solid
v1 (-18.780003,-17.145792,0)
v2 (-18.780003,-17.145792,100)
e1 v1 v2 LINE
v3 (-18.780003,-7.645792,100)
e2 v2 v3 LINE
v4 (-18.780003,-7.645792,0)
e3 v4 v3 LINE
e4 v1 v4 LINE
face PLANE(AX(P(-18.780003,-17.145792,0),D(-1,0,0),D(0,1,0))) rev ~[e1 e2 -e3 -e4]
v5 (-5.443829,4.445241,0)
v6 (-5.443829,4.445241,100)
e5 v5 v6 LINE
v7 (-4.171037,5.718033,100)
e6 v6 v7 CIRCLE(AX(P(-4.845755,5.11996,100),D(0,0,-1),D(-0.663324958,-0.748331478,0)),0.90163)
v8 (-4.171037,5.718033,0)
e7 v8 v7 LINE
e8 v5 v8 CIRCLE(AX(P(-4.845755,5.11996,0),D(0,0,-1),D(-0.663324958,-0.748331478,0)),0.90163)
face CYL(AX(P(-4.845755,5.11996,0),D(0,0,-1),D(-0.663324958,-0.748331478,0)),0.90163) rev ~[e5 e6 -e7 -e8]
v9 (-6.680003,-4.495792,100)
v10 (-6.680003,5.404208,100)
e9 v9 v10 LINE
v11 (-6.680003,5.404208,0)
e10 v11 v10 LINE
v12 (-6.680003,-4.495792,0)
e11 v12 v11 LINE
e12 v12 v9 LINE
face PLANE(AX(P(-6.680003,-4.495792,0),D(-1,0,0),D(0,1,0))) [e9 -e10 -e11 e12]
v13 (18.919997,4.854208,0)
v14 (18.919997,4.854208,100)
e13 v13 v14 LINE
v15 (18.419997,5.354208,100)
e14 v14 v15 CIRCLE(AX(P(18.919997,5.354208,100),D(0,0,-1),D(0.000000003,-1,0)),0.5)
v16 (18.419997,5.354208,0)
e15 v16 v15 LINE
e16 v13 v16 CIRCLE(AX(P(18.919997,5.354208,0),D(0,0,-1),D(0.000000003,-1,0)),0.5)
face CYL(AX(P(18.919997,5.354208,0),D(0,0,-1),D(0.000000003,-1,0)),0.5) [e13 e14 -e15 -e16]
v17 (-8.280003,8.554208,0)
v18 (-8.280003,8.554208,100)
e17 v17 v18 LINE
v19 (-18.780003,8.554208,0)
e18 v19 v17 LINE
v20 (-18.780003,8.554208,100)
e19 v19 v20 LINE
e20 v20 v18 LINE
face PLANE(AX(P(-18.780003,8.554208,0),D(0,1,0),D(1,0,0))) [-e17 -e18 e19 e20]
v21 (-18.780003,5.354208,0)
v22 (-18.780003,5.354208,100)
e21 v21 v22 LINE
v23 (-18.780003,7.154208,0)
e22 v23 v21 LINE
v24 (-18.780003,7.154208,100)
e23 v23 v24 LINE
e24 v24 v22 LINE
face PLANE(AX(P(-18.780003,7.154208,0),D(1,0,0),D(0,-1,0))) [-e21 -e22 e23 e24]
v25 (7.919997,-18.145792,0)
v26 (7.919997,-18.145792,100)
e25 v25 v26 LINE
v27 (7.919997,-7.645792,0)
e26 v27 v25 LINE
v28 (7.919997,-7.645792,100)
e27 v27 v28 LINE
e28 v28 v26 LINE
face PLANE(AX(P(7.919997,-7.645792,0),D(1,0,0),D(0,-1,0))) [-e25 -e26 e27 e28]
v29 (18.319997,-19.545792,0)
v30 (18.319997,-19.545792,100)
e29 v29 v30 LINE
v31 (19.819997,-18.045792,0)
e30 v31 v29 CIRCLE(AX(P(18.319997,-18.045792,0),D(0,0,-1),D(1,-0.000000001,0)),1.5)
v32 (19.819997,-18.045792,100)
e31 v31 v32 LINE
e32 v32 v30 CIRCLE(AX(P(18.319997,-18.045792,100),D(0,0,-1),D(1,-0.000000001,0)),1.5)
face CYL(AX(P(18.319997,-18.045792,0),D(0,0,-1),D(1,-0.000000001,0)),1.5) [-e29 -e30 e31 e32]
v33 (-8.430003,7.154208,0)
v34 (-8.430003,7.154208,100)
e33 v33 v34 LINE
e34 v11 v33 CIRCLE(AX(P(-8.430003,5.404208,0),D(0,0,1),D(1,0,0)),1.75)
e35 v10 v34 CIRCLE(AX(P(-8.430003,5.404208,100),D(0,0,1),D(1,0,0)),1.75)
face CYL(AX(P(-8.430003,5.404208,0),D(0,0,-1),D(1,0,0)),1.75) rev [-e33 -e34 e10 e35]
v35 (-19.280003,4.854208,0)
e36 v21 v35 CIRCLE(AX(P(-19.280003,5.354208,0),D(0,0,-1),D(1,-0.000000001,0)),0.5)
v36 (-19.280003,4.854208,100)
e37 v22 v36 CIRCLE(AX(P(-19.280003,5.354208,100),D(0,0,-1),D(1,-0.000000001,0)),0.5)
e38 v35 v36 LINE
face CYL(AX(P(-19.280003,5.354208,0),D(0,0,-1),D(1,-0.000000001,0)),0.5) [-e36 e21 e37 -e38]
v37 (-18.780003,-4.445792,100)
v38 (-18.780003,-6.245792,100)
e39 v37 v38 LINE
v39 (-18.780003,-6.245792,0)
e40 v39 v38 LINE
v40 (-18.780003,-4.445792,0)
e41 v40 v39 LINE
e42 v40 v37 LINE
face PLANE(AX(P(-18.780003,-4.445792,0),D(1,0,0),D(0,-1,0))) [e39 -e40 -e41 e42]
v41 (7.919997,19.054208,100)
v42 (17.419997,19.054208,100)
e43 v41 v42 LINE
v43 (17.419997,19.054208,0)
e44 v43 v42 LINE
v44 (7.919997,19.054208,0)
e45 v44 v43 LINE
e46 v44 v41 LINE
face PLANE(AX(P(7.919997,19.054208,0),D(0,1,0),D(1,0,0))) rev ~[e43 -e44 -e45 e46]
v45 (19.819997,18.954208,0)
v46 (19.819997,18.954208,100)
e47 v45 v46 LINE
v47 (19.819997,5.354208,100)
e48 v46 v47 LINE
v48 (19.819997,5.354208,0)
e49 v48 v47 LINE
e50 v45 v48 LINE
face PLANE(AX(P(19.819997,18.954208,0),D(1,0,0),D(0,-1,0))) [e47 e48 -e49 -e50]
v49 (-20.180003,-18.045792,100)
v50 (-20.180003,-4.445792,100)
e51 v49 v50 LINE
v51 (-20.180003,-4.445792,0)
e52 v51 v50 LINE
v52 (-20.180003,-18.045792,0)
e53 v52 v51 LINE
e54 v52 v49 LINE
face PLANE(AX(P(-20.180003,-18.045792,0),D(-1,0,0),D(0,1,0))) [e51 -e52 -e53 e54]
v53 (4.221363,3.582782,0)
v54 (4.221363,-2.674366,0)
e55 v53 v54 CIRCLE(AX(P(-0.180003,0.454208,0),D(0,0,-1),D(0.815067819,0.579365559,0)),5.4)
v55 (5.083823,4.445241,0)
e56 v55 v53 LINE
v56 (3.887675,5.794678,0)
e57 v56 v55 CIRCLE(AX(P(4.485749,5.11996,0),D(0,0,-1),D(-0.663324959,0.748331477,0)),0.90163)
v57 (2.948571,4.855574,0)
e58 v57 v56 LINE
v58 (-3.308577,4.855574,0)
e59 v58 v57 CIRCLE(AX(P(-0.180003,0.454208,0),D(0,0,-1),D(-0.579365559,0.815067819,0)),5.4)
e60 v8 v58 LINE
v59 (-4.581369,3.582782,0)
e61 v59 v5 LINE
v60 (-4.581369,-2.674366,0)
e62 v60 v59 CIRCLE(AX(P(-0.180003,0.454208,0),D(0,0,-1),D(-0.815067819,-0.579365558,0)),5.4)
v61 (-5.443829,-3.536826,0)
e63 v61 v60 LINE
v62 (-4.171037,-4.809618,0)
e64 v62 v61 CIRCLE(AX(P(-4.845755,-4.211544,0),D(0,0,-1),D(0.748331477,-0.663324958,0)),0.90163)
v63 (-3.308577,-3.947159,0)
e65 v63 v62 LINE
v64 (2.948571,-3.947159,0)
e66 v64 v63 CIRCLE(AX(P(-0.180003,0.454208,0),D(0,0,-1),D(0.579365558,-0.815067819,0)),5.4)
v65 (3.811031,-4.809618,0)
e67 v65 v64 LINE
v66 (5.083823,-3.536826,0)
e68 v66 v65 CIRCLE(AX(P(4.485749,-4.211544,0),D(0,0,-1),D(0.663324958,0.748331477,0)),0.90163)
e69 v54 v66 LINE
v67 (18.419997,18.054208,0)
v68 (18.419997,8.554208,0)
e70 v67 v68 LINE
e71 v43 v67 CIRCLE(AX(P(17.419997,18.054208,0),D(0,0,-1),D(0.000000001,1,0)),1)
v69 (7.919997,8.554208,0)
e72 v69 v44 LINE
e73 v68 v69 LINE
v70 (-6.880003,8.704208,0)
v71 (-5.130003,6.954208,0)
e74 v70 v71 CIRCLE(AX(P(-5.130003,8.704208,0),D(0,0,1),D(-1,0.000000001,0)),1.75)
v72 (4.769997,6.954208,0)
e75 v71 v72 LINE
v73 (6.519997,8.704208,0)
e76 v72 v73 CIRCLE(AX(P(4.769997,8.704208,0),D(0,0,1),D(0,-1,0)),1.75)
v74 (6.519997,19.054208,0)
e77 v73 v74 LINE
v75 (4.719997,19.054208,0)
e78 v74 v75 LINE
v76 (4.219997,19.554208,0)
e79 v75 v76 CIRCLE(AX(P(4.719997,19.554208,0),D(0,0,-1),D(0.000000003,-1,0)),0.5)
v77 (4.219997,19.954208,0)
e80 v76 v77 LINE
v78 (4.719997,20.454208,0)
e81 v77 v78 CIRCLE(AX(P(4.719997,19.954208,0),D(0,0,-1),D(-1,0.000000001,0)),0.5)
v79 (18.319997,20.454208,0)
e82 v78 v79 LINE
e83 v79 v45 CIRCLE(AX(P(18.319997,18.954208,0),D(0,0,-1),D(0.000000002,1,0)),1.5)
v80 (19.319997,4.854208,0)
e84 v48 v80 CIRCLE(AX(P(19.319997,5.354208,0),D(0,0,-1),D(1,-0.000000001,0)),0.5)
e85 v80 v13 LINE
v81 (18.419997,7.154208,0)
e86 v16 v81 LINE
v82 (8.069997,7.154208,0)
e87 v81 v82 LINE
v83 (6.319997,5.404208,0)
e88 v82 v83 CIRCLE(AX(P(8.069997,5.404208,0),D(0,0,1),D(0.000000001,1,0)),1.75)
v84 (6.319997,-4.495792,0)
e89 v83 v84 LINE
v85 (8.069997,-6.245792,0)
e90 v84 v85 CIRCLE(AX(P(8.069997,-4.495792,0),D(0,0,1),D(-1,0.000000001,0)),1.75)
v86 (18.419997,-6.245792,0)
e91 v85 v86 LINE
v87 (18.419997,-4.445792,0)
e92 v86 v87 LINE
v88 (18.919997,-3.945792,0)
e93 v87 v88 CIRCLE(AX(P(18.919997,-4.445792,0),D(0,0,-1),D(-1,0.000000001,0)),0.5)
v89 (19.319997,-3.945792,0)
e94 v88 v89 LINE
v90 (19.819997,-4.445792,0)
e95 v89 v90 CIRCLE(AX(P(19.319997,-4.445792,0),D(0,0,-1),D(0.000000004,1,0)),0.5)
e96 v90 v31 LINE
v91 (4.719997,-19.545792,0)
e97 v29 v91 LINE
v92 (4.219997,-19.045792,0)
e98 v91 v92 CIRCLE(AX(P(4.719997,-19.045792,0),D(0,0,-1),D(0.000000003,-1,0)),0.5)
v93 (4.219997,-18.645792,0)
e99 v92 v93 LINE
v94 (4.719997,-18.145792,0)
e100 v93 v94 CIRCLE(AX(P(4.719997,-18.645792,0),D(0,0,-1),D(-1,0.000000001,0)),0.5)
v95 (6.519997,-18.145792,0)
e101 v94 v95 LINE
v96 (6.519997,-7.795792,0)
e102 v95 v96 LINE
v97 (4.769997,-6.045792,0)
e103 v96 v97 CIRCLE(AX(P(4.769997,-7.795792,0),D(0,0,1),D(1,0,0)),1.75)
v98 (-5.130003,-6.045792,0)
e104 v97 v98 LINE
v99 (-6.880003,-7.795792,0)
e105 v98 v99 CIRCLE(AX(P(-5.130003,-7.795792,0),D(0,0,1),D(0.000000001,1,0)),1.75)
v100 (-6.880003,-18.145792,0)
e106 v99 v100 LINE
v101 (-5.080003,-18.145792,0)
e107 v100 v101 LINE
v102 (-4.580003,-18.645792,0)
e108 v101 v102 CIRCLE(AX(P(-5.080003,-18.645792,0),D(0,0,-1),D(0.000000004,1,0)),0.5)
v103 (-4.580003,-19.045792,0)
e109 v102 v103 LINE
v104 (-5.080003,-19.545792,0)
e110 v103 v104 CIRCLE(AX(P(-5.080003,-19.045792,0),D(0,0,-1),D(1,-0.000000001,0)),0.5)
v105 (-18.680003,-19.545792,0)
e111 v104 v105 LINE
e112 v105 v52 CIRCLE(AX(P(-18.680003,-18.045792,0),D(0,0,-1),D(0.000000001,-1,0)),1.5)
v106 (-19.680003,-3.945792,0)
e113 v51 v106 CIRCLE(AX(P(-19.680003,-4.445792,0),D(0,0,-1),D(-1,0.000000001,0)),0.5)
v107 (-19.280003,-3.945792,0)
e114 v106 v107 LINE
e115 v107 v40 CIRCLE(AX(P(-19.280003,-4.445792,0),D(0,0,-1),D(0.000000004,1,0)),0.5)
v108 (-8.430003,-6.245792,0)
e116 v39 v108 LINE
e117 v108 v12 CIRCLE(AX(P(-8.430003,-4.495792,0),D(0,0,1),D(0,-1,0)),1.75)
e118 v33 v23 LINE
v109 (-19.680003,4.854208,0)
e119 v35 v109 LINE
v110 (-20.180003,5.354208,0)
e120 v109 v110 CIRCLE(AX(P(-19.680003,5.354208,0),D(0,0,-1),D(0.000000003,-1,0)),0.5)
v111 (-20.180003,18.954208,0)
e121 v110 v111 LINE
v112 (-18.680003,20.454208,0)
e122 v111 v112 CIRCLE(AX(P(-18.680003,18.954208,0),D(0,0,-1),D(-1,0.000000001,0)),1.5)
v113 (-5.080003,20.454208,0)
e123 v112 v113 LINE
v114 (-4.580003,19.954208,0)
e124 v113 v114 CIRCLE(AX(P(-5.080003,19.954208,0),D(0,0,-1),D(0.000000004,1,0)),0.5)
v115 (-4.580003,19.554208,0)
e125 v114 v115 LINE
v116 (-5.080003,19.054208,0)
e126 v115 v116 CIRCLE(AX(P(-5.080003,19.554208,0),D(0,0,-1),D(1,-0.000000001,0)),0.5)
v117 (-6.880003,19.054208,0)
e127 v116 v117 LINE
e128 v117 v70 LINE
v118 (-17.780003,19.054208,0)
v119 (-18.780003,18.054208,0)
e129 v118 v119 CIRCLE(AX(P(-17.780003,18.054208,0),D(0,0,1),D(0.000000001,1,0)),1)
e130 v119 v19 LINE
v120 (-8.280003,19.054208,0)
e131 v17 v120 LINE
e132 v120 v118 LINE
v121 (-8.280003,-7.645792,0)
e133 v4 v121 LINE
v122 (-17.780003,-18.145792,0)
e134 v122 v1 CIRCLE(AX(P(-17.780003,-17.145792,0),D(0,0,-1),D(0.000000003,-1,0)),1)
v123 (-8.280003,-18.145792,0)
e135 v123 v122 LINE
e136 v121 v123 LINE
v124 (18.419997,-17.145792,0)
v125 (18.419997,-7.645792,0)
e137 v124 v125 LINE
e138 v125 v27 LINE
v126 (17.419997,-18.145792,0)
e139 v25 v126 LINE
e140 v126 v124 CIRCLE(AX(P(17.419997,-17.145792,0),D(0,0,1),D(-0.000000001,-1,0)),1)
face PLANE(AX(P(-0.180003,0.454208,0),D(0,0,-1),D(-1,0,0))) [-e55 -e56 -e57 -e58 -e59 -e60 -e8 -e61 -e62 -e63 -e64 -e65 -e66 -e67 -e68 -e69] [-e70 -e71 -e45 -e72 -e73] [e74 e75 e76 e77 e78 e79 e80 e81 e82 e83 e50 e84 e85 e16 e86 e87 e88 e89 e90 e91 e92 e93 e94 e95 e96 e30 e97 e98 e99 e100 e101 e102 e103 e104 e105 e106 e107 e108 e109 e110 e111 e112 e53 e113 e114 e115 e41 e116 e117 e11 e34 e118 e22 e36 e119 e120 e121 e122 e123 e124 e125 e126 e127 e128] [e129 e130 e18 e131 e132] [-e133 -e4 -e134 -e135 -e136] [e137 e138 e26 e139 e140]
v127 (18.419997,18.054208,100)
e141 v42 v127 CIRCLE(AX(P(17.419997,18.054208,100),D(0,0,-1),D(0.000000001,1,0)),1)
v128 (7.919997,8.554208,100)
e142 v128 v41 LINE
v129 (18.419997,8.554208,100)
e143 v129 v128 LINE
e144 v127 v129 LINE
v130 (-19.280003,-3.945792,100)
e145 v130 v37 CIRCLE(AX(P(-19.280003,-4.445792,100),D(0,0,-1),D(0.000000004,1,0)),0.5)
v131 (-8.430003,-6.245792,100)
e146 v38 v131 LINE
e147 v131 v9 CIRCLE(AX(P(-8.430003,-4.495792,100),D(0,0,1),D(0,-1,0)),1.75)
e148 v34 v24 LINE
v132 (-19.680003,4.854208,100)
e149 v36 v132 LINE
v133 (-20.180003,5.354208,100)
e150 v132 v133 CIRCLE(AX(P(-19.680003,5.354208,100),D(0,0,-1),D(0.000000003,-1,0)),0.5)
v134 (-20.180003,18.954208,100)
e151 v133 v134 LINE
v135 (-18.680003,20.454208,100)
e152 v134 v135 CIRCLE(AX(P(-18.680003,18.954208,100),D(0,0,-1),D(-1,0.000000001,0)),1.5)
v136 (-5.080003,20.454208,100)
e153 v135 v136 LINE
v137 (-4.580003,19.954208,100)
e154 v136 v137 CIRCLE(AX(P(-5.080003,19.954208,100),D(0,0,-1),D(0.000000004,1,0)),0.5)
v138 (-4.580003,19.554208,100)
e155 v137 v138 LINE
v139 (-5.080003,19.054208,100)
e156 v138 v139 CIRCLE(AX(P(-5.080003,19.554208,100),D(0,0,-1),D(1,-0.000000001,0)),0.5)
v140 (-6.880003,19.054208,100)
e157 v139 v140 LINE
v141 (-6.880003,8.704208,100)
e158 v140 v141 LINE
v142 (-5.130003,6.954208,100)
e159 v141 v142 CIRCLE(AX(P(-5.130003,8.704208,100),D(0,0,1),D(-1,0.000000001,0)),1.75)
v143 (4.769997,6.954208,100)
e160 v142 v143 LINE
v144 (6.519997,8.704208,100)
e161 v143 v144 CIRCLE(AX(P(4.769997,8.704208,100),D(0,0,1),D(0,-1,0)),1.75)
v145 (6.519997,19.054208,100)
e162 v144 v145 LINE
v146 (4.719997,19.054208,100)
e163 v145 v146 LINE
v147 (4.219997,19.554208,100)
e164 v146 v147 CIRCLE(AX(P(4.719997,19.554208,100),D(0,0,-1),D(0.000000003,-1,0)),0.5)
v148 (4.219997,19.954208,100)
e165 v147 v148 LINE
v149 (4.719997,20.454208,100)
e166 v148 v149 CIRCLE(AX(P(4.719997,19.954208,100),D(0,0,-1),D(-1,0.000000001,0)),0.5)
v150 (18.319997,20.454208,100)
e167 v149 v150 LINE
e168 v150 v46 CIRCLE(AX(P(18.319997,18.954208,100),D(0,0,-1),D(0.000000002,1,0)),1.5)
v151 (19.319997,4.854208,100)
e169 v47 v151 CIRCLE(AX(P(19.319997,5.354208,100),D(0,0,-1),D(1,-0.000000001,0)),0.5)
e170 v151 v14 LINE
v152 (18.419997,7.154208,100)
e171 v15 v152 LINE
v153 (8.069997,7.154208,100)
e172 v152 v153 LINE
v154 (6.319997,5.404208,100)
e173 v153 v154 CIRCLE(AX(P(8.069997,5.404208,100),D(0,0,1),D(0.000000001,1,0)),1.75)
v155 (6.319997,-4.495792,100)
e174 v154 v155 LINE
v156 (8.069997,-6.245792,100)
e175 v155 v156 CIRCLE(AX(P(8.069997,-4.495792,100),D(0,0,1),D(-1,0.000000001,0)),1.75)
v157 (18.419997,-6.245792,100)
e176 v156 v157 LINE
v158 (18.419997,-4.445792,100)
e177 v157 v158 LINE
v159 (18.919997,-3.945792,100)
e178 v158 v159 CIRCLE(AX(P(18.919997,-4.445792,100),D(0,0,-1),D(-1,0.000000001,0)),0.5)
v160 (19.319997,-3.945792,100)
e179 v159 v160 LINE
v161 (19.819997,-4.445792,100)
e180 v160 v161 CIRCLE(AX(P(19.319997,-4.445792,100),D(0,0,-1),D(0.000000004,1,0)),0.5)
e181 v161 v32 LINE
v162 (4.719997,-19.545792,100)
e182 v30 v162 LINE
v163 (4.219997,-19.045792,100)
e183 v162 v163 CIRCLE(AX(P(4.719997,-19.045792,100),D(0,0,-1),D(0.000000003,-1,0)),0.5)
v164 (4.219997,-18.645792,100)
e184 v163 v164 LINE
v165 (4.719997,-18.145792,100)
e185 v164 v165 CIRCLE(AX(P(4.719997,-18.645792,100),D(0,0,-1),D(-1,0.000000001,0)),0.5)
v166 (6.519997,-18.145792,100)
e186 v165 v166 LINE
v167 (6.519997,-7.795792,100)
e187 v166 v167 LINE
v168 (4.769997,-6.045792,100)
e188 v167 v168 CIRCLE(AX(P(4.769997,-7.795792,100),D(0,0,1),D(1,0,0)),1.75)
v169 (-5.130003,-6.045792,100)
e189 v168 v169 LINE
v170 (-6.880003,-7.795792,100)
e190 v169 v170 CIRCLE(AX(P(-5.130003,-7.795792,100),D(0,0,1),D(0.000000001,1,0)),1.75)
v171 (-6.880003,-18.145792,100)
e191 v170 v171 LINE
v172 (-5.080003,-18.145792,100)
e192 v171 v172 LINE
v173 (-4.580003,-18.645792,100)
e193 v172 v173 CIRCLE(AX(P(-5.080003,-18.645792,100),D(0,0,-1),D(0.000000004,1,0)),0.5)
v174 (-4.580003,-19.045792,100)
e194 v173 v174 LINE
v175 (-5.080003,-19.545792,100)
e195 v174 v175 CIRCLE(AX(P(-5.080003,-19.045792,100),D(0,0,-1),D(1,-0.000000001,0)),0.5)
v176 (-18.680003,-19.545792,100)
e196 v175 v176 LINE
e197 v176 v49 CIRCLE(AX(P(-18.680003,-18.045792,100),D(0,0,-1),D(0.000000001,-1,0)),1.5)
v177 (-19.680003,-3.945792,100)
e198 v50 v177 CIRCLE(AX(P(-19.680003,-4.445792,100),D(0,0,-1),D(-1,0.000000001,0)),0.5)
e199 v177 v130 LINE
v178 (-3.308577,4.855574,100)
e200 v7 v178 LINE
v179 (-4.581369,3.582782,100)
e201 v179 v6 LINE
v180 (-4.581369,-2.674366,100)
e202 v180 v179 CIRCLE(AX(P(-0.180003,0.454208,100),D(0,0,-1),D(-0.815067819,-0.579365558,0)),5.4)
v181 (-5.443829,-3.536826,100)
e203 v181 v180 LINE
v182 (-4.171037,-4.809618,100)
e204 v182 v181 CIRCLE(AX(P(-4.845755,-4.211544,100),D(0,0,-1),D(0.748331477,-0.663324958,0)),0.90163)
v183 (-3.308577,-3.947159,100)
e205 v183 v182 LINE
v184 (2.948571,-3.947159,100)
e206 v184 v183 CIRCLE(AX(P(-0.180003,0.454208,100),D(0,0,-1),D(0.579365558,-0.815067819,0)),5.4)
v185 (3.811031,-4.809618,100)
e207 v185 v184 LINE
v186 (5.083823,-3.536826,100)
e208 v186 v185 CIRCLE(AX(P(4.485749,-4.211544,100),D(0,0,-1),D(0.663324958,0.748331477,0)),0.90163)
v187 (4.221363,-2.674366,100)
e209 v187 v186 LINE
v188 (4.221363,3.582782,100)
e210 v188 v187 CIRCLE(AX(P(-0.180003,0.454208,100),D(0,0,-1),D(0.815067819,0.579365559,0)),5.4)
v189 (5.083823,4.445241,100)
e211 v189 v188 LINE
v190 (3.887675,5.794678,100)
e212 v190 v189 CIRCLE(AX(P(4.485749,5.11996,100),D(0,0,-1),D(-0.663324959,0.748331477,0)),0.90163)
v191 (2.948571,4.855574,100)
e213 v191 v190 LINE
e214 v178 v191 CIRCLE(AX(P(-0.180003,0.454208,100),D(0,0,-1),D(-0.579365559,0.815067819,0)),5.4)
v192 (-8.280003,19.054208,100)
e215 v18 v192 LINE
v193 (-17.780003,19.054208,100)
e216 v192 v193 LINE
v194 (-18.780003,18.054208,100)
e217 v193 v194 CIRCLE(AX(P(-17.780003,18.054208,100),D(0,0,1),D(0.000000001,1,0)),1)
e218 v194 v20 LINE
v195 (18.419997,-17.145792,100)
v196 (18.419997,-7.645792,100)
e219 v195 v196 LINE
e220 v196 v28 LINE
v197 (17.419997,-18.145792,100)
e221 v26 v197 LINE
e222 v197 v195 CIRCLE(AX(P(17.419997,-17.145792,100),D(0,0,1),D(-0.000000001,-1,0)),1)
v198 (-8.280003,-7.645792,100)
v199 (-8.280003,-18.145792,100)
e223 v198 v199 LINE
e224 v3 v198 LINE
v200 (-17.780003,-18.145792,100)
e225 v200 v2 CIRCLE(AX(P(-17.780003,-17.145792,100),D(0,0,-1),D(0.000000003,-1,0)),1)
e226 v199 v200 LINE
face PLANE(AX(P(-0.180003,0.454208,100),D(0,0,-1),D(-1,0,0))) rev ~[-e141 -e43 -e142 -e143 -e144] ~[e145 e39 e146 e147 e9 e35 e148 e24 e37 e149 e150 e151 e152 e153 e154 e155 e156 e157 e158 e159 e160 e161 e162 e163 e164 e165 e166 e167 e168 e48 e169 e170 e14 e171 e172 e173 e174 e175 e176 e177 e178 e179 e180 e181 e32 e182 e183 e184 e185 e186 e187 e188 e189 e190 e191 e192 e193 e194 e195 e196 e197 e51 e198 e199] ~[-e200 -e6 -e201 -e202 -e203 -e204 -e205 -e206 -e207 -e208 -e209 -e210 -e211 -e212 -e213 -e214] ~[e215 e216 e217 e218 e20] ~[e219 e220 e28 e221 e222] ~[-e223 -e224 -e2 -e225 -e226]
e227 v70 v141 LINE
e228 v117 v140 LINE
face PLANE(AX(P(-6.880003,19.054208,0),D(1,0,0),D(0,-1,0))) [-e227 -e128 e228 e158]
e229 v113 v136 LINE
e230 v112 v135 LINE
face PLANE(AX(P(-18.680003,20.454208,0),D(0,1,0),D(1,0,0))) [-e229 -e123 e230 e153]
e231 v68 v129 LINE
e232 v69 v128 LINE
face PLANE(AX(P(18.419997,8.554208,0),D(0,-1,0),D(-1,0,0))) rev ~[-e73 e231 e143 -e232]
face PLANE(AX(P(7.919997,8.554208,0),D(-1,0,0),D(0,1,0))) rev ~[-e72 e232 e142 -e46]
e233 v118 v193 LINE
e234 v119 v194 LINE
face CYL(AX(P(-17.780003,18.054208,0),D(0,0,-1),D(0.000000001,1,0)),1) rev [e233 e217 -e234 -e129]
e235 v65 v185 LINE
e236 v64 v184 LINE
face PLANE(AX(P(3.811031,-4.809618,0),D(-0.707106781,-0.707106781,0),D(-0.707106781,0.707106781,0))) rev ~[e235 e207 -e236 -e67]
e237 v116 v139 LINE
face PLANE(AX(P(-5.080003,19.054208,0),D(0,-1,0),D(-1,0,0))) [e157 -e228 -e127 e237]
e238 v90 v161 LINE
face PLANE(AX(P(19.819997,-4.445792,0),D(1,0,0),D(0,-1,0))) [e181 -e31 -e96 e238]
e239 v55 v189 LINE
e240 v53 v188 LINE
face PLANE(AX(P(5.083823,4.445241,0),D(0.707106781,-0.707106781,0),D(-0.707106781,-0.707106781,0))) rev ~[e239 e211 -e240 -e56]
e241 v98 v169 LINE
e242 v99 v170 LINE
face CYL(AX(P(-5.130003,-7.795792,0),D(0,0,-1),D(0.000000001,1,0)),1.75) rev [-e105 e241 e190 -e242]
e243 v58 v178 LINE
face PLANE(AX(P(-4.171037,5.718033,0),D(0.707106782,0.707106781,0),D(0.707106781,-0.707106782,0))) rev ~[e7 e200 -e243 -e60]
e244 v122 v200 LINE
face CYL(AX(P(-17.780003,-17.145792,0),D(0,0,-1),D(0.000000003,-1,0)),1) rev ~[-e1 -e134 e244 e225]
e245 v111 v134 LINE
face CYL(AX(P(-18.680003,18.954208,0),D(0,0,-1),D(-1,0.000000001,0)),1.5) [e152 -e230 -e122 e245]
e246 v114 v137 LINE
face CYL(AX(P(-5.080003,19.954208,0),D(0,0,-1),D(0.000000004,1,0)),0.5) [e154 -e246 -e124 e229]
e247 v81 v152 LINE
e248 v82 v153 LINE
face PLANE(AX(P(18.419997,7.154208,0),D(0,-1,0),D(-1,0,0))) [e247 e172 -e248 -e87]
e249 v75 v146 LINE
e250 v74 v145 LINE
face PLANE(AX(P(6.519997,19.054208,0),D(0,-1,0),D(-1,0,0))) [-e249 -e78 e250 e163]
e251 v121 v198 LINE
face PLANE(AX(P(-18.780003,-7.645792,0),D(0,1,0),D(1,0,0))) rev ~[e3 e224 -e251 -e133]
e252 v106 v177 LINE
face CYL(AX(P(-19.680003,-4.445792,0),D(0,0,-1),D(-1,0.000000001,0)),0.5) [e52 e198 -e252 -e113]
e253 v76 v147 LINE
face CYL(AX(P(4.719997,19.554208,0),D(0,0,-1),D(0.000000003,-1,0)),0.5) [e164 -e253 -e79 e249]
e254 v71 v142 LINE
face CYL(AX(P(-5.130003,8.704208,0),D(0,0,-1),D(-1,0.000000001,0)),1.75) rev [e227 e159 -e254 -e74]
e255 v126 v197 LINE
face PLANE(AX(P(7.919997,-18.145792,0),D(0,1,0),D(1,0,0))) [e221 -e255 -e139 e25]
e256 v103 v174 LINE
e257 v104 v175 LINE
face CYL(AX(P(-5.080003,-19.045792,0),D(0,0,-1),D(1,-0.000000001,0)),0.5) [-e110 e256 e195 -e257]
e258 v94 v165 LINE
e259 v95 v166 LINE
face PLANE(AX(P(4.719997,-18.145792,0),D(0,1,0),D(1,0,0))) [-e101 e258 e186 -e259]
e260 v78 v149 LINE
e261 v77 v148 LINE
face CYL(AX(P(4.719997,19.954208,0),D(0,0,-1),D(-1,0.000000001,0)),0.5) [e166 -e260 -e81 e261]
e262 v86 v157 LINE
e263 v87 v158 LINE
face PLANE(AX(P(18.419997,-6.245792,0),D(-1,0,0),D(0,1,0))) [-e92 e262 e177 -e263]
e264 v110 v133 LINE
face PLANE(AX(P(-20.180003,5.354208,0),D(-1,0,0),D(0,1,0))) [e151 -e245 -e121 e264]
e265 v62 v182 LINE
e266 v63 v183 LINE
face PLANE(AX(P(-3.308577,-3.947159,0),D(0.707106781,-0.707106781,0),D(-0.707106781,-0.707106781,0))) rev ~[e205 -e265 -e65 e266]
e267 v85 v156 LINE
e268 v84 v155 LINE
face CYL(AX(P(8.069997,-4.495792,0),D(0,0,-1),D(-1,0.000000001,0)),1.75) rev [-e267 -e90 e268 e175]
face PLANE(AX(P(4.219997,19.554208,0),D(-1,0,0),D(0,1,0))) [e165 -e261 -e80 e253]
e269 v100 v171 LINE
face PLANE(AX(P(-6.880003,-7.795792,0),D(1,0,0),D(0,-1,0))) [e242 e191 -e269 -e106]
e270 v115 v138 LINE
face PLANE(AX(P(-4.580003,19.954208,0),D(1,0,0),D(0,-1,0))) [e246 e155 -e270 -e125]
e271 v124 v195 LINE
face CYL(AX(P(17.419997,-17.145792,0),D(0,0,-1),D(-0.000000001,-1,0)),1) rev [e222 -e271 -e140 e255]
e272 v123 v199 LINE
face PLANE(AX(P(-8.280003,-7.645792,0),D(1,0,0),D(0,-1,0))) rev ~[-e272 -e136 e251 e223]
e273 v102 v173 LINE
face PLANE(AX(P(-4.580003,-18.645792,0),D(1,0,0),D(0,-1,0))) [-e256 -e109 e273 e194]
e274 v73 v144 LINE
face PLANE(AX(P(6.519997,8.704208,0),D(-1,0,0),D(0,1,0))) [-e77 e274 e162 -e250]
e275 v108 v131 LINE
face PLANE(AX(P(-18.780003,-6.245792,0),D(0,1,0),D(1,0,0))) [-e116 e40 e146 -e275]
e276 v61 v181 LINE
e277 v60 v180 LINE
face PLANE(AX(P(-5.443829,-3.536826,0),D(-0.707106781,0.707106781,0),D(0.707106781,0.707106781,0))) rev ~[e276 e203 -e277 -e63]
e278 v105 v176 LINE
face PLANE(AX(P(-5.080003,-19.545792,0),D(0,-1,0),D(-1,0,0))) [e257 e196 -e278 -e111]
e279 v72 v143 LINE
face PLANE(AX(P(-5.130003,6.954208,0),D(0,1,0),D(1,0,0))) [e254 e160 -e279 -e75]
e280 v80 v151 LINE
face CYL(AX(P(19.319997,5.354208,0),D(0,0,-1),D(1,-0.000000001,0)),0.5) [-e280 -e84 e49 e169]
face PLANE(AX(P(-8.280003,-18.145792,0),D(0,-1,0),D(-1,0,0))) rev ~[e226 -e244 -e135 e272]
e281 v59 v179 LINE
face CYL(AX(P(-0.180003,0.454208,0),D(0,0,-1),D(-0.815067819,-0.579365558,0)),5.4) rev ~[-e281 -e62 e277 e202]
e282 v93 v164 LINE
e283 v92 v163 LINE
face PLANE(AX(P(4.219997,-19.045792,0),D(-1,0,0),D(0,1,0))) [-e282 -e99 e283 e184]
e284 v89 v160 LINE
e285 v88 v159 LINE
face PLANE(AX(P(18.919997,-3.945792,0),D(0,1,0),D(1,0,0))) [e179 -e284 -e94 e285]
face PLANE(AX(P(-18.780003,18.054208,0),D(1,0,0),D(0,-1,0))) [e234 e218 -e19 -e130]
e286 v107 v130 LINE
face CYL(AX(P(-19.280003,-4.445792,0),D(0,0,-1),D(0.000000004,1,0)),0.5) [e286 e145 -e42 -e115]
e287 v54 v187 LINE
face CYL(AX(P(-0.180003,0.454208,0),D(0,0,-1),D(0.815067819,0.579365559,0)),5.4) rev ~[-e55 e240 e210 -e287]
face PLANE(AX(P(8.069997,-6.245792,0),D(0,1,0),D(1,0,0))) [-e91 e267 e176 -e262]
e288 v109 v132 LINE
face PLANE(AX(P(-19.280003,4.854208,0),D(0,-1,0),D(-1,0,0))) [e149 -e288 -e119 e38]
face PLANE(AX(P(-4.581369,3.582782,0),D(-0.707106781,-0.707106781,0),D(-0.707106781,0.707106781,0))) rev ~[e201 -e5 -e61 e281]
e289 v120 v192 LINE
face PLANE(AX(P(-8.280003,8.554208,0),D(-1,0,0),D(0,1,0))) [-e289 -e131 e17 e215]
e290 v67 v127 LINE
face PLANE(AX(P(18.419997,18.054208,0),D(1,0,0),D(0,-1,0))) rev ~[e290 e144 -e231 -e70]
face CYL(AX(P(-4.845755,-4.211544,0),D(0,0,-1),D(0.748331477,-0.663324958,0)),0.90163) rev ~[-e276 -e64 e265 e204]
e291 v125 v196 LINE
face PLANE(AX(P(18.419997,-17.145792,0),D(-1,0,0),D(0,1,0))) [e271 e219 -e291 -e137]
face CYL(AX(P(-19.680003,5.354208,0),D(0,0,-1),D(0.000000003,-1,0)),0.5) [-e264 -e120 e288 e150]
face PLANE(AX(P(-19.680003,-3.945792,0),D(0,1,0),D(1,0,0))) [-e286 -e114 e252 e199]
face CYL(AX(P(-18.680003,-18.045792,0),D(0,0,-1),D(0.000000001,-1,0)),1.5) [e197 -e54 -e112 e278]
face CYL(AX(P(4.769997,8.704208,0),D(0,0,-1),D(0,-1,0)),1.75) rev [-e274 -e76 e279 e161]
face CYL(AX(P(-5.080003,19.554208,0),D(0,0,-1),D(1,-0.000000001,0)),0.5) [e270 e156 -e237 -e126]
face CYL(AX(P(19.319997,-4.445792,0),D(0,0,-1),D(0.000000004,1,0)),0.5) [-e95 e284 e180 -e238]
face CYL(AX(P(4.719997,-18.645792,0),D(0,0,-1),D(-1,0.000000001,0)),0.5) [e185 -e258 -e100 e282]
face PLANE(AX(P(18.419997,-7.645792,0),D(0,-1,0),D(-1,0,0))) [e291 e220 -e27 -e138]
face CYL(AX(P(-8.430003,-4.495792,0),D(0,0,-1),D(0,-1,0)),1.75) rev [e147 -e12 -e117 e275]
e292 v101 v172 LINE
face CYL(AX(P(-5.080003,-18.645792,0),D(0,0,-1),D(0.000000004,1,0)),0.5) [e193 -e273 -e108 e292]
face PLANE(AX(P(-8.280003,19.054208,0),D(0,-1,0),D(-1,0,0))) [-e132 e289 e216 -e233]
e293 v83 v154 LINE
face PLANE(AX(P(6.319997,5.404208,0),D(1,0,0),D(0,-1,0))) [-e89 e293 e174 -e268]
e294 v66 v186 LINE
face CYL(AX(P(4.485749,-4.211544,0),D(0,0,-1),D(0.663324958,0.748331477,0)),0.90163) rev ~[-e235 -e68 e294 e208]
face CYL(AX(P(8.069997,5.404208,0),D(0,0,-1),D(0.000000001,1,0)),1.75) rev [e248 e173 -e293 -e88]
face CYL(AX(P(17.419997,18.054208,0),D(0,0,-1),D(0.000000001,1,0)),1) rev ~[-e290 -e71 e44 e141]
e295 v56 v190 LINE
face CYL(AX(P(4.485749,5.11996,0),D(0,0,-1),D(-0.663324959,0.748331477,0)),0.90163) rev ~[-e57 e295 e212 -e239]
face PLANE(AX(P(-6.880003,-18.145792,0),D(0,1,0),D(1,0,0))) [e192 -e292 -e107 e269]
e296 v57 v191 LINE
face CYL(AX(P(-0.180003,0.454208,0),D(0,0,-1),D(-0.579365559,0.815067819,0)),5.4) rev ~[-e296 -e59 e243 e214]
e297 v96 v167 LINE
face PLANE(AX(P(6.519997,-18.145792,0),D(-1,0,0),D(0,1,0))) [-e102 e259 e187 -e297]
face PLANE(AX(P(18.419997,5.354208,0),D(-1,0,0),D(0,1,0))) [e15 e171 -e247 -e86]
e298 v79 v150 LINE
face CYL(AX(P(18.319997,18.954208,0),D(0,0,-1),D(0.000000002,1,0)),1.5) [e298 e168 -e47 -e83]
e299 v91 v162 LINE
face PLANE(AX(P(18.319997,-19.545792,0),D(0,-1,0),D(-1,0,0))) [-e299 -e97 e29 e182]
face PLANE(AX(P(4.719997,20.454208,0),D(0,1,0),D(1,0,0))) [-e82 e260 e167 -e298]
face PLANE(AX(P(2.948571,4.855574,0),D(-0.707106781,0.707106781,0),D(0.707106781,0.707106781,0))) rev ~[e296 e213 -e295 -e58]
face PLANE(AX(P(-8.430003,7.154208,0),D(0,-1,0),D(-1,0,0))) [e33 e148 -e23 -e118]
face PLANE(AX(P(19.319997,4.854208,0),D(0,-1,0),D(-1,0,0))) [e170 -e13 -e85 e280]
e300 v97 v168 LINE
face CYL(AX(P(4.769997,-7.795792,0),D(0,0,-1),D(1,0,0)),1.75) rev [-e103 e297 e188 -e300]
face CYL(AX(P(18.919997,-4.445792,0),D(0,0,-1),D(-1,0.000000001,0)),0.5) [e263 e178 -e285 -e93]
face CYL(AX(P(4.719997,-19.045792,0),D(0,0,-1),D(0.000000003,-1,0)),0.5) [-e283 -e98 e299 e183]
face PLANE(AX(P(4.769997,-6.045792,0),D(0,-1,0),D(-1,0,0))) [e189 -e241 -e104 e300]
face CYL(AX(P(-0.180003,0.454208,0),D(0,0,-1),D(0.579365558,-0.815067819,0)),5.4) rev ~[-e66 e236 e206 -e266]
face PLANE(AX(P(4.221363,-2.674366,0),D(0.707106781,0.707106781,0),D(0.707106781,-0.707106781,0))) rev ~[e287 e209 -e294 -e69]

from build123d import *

# Parameters (mm, degrees)
EXTRUDE_1_DEPTH = 100


with BuildPart() as part:
    # 草图1 → 凸台-拉伸1 (new body)
    with BuildSketch(Plane.XY):
        with BuildLine():
            Line((-18.780003001, 7.154207574), (-18.780003001, 5.354207574))
            ThreePointArc((-18.780003001, 5.354207574), (-18.926449611, 5.000654183), (-19.280003001, 4.854207574))
            Line((-19.280003001, 4.854207574), (-19.680003001, 4.854207574))
            ThreePointArc((-19.680003001, 4.854207574), (-20.033556392, 5.000654183), (-20.180003001, 5.354207574))
            Line((-20.180003001, 5.354207574), (-20.180003001, 18.954207574))
            ThreePointArc((-20.180003001, 18.954207574), (-19.740663173, 20.014867745), (-18.680003001, 20.454207574))
            Line((-18.680003001, 20.454207574), (-5.080003001, 20.454207574))
            ThreePointArc((-5.080003001, 20.454207574), (-4.726449611, 20.307760964), (-4.580003001, 19.954207574))
            Line((-4.580003001, 19.954207574), (-4.580003001, 19.554207574))
            ThreePointArc((-4.580003001, 19.554207574), (-4.726449611, 19.200654183), (-5.080003001, 19.054207574))
            Line((-5.080003001, 19.054207574), (-6.880003001, 19.054207574))
            Line((-6.880003001, 19.054207574), (-6.880003001, 8.704207574))
            ThreePointArc((-6.880003001, 8.704207574), (-6.367439869, 7.466770707), (-5.130003001, 6.954207574))
            Line((-5.130003001, 6.954207574), (4.769996999, 6.954207574))
            ThreePointArc((4.769996999, 6.954207574), (6.007433866, 7.466770707), (6.519996999, 8.704207574))
            Line((6.519996999, 8.704207574), (6.519996999, 19.054207574))
            Line((6.519996999, 19.054207574), (4.719996999, 19.054207574))
            ThreePointArc((4.719996999, 19.054207574), (4.366443608, 19.200654183), (4.219996999, 19.554207574))
            Line((4.219996999, 19.554207574), (4.219996999, 19.954207574))
            ThreePointArc((4.219996999, 19.954207574), (4.366443608, 20.307760964), (4.719996999, 20.454207574))
            Line((4.719996999, 20.454207574), (18.319996999, 20.454207574))
            ThreePointArc((18.319996999, 20.454207574), (19.38065717, 20.014867745), (19.819996999, 18.954207574))
            Line((19.819996999, 18.954207574), (19.819996999, 5.354207574))
            ThreePointArc((19.819996999, 5.354207574), (19.673550389, 5.000654183), (19.319996999, 4.854207574))
            Line((19.319996999, 4.854207574), (18.919996999, 4.854207574))
            ThreePointArc((18.919996999, 4.854207574), (18.566443608, 5.000654183), (18.419996999, 5.354207574))
            Line((18.419996999, 5.354207574), (18.419996999, 7.154207574))
            Line((18.419996999, 7.154207574), (8.069996999, 7.154207574))
            ThreePointArc((8.069996999, 7.154207574), (6.832560131, 6.641644441), (6.319996999, 5.404207574))
            Line((6.319996999, 5.404207574), (6.319996999, -4.495792426))
            ThreePointArc((6.319996999, -4.495792426), (6.832560131, -5.733229293), (8.069996999, -6.245792426))
            Line((8.069996999, -6.245792426), (18.419996999, -6.245792426))
            Line((18.419996999, -6.245792426), (18.419996999, -4.445792426))
            ThreePointArc((18.419996999, -4.445792426), (18.566443608, -4.092239036), (18.919996999, -3.945792426))
            Line((18.919996999, -3.945792426), (19.319996999, -3.945792426))
            ThreePointArc((19.319996999, -3.945792426), (19.673550389, -4.092239036), (19.819996999, -4.445792426))
            Line((19.819996999, -4.445792426), (19.819996999, -18.045792426))
            ThreePointArc((19.819996999, -18.045792426), (19.38065717, -19.106452598), (18.319996999, -19.545792426))
            Line((18.319996999, -19.545792426), (4.719996999, -19.545792426))
            ThreePointArc((4.719996999, -19.545792426), (4.366443608, -19.399345817), (4.219996999, -19.045792426))
            Line((4.219996999, -19.045792426), (4.219996999, -18.645792426))
            ThreePointArc((4.219996999, -18.645792426), (4.366443608, -18.292239036), (4.719996999, -18.145792426))
            Line((4.719996999, -18.145792426), (6.519996999, -18.145792426))
            Line((6.519996999, -18.145792426), (6.519996999, -7.795792426))
            ThreePointArc((6.519996999, -7.795792426), (6.007433866, -6.558355559), (4.769996999, -6.045792426))
            Line((4.769996999, -6.045792426), (-5.130003001, -6.045792426))
            ThreePointArc((-5.130003001, -6.045792426), (-6.367439869, -6.558355559), (-6.880003001, -7.795792426))
            Line((-6.880003001, -7.795792426), (-6.880003001, -18.145792426))
            Line((-6.880003001, -18.145792426), (-5.080003001, -18.145792426))
            ThreePointArc((-5.080003001, -18.145792426), (-4.726449611, -18.292239036), (-4.580003001, -18.645792426))
            Line((-4.580003001, -18.645792426), (-4.580003001, -19.045792426))
            ThreePointArc((-4.580003001, -19.045792426), (-4.726449611, -19.399345817), (-5.080003001, -19.545792426))
            Line((-5.080003001, -19.545792426), (-18.680003001, -19.545792426))
            ThreePointArc((-18.680003001, -19.545792426), (-19.740663173, -19.106452598), (-20.180003001, -18.045792426))
            Line((-20.180003001, -18.045792426), (-20.180003001, -4.445792426))
            ThreePointArc((-20.180003001, -4.445792426), (-20.033556392, -4.092239036), (-19.680003001, -3.945792426))
            Line((-19.680003001, -3.945792426), (-19.280003001, -3.945792426))
            ThreePointArc((-19.280003001, -3.945792426), (-18.926449611, -4.092239036), (-18.780003001, -4.445792426))
            Line((-18.780003001, -4.445792426), (-18.780003001, -6.245792426))
            Line((-18.780003001, -6.245792426), (-8.430003001, -6.245792426))
            ThreePointArc((-8.430003001, -6.245792426), (-7.192566134, -5.733229293), (-6.680003001, -4.495792426))
            Line((-6.680003001, -4.495792426), (-6.680003001, 5.404207574))
            ThreePointArc((-6.680003001, 5.404207574), (-7.192566134, 6.641644441), (-8.430003001, 7.154207574))
            Line((-8.430003001, 7.154207574), (-18.780003001, 7.154207574))
        make_face()
        with BuildLine():
            Line((-8.280003001, 19.054207574), (-17.780003001, 19.054207574))
            ThreePointArc((-17.780003001, 19.054207574), (-18.487109783, 18.761314355), (-18.780003001, 18.054207574))
            Line((-18.780003001, 18.054207574), (-18.780003001, 8.554207574))
            Line((-18.780003001, 8.554207574), (-8.280003001, 8.554207574))
            Line((-8.280003001, 8.554207574), (-8.280003001, 19.054207574))
        make_face(mode=Mode.SUBTRACT)
        with BuildLine():
            Line((-4.581369224, 3.58278159), (-5.443828842, 4.445241208))
            ThreePointArc((-5.443828842, 4.445241208), (-5.48330386, 5.757508433), (-4.171036636, 5.718033415))
            Line((-4.171036636, 5.718033415), (-3.308577018, 4.855573796))
            ThreePointArc((-3.308577018, 4.855573796), (-0.180003001, 5.854207574), (2.948571015, 4.855573796))
            Line((2.948571015, 4.855573796), (3.887675086, 5.794677867))
            ThreePointArc((3.887675086, 5.794677867), (5.160467292, 5.718033415), (5.083822839, 4.445241208))
            Line((5.083822839, 4.445241208), (4.221363221, 3.58278159))
            ThreePointArc((4.221363221, 3.58278159), (5.219996999, 0.454207574), (4.221363221, -2.674366443))
            Line((4.221363221, -2.674366443), (5.083822839, -3.536826061))
            ThreePointArc((5.083822839, -3.536826061), (5.123297857, -4.849093285), (3.811030633, -4.809618267))
            Line((3.811030633, -4.809618267), (2.948571015, -3.947158649))
            ThreePointArc((2.948571015, -3.947158649), (-0.180003001, -4.945792426), (-3.308577018, -3.947158649))
            Line((-3.308577018, -3.947158649), (-4.171036636, -4.809618267))
            ThreePointArc((-4.171036636, -4.809618267), (-5.48330386, -4.849093285), (-5.443828842, -3.536826061))
            Line((-5.443828842, -3.536826061), (-4.581369224, -2.674366443))
            ThreePointArc((-4.581369224, -2.674366443), (-5.580003001, 0.454207574), (-4.581369224, 3.58278159))
        make_face(mode=Mode.SUBTRACT)
        with BuildLine():
            Line((7.919996999, 19.054207574), (17.419996999, 19.054207574))
            ThreePointArc((17.419996999, 19.054207574), (18.12710378, 18.761314355), (18.419996999, 18.054207574))
            Line((18.419996999, 18.054207574), (18.419996999, 8.554207574))
            Line((18.419996999, 8.554207574), (7.919996999, 8.554207574))
            Line((7.919996999, 8.554207574), (7.919996999, 19.054207574))
        make_face(mode=Mode.SUBTRACT)
        with BuildLine():
            Line((-8.280003001, -18.145792426), (-17.780003001, -18.145792426))
            ThreePointArc((-17.780003001, -18.145792426), (-18.487109783, -17.852899208), (-18.780003001, -17.145792426))
            Line((-18.780003001, -17.145792426), (-18.780003001, -7.645792426))
            Line((-18.780003001, -7.645792426), (-8.280003001, -7.645792426))
            Line((-8.280003001, -7.645792426), (-8.280003001, -18.145792426))
        make_face(mode=Mode.SUBTRACT)
        with BuildLine():
            Line((7.919996999, -18.145792426), (17.419996999, -18.145792426))
            ThreePointArc((17.419996999, -18.145792426), (18.12710378, -17.852899208), (18.419996999, -17.145792426))
            Line((18.419996999, -17.145792426), (18.419996999, -7.645792426))
            Line((18.419996999, -7.645792426), (7.919996999, -7.645792426))
            Line((7.919996999, -7.645792426), (7.919996999, -18.145792426))
        make_face(mode=Mode.SUBTRACT)
    extrude(amount=EXTRUDE_1_DEPTH)


solid = part.part
